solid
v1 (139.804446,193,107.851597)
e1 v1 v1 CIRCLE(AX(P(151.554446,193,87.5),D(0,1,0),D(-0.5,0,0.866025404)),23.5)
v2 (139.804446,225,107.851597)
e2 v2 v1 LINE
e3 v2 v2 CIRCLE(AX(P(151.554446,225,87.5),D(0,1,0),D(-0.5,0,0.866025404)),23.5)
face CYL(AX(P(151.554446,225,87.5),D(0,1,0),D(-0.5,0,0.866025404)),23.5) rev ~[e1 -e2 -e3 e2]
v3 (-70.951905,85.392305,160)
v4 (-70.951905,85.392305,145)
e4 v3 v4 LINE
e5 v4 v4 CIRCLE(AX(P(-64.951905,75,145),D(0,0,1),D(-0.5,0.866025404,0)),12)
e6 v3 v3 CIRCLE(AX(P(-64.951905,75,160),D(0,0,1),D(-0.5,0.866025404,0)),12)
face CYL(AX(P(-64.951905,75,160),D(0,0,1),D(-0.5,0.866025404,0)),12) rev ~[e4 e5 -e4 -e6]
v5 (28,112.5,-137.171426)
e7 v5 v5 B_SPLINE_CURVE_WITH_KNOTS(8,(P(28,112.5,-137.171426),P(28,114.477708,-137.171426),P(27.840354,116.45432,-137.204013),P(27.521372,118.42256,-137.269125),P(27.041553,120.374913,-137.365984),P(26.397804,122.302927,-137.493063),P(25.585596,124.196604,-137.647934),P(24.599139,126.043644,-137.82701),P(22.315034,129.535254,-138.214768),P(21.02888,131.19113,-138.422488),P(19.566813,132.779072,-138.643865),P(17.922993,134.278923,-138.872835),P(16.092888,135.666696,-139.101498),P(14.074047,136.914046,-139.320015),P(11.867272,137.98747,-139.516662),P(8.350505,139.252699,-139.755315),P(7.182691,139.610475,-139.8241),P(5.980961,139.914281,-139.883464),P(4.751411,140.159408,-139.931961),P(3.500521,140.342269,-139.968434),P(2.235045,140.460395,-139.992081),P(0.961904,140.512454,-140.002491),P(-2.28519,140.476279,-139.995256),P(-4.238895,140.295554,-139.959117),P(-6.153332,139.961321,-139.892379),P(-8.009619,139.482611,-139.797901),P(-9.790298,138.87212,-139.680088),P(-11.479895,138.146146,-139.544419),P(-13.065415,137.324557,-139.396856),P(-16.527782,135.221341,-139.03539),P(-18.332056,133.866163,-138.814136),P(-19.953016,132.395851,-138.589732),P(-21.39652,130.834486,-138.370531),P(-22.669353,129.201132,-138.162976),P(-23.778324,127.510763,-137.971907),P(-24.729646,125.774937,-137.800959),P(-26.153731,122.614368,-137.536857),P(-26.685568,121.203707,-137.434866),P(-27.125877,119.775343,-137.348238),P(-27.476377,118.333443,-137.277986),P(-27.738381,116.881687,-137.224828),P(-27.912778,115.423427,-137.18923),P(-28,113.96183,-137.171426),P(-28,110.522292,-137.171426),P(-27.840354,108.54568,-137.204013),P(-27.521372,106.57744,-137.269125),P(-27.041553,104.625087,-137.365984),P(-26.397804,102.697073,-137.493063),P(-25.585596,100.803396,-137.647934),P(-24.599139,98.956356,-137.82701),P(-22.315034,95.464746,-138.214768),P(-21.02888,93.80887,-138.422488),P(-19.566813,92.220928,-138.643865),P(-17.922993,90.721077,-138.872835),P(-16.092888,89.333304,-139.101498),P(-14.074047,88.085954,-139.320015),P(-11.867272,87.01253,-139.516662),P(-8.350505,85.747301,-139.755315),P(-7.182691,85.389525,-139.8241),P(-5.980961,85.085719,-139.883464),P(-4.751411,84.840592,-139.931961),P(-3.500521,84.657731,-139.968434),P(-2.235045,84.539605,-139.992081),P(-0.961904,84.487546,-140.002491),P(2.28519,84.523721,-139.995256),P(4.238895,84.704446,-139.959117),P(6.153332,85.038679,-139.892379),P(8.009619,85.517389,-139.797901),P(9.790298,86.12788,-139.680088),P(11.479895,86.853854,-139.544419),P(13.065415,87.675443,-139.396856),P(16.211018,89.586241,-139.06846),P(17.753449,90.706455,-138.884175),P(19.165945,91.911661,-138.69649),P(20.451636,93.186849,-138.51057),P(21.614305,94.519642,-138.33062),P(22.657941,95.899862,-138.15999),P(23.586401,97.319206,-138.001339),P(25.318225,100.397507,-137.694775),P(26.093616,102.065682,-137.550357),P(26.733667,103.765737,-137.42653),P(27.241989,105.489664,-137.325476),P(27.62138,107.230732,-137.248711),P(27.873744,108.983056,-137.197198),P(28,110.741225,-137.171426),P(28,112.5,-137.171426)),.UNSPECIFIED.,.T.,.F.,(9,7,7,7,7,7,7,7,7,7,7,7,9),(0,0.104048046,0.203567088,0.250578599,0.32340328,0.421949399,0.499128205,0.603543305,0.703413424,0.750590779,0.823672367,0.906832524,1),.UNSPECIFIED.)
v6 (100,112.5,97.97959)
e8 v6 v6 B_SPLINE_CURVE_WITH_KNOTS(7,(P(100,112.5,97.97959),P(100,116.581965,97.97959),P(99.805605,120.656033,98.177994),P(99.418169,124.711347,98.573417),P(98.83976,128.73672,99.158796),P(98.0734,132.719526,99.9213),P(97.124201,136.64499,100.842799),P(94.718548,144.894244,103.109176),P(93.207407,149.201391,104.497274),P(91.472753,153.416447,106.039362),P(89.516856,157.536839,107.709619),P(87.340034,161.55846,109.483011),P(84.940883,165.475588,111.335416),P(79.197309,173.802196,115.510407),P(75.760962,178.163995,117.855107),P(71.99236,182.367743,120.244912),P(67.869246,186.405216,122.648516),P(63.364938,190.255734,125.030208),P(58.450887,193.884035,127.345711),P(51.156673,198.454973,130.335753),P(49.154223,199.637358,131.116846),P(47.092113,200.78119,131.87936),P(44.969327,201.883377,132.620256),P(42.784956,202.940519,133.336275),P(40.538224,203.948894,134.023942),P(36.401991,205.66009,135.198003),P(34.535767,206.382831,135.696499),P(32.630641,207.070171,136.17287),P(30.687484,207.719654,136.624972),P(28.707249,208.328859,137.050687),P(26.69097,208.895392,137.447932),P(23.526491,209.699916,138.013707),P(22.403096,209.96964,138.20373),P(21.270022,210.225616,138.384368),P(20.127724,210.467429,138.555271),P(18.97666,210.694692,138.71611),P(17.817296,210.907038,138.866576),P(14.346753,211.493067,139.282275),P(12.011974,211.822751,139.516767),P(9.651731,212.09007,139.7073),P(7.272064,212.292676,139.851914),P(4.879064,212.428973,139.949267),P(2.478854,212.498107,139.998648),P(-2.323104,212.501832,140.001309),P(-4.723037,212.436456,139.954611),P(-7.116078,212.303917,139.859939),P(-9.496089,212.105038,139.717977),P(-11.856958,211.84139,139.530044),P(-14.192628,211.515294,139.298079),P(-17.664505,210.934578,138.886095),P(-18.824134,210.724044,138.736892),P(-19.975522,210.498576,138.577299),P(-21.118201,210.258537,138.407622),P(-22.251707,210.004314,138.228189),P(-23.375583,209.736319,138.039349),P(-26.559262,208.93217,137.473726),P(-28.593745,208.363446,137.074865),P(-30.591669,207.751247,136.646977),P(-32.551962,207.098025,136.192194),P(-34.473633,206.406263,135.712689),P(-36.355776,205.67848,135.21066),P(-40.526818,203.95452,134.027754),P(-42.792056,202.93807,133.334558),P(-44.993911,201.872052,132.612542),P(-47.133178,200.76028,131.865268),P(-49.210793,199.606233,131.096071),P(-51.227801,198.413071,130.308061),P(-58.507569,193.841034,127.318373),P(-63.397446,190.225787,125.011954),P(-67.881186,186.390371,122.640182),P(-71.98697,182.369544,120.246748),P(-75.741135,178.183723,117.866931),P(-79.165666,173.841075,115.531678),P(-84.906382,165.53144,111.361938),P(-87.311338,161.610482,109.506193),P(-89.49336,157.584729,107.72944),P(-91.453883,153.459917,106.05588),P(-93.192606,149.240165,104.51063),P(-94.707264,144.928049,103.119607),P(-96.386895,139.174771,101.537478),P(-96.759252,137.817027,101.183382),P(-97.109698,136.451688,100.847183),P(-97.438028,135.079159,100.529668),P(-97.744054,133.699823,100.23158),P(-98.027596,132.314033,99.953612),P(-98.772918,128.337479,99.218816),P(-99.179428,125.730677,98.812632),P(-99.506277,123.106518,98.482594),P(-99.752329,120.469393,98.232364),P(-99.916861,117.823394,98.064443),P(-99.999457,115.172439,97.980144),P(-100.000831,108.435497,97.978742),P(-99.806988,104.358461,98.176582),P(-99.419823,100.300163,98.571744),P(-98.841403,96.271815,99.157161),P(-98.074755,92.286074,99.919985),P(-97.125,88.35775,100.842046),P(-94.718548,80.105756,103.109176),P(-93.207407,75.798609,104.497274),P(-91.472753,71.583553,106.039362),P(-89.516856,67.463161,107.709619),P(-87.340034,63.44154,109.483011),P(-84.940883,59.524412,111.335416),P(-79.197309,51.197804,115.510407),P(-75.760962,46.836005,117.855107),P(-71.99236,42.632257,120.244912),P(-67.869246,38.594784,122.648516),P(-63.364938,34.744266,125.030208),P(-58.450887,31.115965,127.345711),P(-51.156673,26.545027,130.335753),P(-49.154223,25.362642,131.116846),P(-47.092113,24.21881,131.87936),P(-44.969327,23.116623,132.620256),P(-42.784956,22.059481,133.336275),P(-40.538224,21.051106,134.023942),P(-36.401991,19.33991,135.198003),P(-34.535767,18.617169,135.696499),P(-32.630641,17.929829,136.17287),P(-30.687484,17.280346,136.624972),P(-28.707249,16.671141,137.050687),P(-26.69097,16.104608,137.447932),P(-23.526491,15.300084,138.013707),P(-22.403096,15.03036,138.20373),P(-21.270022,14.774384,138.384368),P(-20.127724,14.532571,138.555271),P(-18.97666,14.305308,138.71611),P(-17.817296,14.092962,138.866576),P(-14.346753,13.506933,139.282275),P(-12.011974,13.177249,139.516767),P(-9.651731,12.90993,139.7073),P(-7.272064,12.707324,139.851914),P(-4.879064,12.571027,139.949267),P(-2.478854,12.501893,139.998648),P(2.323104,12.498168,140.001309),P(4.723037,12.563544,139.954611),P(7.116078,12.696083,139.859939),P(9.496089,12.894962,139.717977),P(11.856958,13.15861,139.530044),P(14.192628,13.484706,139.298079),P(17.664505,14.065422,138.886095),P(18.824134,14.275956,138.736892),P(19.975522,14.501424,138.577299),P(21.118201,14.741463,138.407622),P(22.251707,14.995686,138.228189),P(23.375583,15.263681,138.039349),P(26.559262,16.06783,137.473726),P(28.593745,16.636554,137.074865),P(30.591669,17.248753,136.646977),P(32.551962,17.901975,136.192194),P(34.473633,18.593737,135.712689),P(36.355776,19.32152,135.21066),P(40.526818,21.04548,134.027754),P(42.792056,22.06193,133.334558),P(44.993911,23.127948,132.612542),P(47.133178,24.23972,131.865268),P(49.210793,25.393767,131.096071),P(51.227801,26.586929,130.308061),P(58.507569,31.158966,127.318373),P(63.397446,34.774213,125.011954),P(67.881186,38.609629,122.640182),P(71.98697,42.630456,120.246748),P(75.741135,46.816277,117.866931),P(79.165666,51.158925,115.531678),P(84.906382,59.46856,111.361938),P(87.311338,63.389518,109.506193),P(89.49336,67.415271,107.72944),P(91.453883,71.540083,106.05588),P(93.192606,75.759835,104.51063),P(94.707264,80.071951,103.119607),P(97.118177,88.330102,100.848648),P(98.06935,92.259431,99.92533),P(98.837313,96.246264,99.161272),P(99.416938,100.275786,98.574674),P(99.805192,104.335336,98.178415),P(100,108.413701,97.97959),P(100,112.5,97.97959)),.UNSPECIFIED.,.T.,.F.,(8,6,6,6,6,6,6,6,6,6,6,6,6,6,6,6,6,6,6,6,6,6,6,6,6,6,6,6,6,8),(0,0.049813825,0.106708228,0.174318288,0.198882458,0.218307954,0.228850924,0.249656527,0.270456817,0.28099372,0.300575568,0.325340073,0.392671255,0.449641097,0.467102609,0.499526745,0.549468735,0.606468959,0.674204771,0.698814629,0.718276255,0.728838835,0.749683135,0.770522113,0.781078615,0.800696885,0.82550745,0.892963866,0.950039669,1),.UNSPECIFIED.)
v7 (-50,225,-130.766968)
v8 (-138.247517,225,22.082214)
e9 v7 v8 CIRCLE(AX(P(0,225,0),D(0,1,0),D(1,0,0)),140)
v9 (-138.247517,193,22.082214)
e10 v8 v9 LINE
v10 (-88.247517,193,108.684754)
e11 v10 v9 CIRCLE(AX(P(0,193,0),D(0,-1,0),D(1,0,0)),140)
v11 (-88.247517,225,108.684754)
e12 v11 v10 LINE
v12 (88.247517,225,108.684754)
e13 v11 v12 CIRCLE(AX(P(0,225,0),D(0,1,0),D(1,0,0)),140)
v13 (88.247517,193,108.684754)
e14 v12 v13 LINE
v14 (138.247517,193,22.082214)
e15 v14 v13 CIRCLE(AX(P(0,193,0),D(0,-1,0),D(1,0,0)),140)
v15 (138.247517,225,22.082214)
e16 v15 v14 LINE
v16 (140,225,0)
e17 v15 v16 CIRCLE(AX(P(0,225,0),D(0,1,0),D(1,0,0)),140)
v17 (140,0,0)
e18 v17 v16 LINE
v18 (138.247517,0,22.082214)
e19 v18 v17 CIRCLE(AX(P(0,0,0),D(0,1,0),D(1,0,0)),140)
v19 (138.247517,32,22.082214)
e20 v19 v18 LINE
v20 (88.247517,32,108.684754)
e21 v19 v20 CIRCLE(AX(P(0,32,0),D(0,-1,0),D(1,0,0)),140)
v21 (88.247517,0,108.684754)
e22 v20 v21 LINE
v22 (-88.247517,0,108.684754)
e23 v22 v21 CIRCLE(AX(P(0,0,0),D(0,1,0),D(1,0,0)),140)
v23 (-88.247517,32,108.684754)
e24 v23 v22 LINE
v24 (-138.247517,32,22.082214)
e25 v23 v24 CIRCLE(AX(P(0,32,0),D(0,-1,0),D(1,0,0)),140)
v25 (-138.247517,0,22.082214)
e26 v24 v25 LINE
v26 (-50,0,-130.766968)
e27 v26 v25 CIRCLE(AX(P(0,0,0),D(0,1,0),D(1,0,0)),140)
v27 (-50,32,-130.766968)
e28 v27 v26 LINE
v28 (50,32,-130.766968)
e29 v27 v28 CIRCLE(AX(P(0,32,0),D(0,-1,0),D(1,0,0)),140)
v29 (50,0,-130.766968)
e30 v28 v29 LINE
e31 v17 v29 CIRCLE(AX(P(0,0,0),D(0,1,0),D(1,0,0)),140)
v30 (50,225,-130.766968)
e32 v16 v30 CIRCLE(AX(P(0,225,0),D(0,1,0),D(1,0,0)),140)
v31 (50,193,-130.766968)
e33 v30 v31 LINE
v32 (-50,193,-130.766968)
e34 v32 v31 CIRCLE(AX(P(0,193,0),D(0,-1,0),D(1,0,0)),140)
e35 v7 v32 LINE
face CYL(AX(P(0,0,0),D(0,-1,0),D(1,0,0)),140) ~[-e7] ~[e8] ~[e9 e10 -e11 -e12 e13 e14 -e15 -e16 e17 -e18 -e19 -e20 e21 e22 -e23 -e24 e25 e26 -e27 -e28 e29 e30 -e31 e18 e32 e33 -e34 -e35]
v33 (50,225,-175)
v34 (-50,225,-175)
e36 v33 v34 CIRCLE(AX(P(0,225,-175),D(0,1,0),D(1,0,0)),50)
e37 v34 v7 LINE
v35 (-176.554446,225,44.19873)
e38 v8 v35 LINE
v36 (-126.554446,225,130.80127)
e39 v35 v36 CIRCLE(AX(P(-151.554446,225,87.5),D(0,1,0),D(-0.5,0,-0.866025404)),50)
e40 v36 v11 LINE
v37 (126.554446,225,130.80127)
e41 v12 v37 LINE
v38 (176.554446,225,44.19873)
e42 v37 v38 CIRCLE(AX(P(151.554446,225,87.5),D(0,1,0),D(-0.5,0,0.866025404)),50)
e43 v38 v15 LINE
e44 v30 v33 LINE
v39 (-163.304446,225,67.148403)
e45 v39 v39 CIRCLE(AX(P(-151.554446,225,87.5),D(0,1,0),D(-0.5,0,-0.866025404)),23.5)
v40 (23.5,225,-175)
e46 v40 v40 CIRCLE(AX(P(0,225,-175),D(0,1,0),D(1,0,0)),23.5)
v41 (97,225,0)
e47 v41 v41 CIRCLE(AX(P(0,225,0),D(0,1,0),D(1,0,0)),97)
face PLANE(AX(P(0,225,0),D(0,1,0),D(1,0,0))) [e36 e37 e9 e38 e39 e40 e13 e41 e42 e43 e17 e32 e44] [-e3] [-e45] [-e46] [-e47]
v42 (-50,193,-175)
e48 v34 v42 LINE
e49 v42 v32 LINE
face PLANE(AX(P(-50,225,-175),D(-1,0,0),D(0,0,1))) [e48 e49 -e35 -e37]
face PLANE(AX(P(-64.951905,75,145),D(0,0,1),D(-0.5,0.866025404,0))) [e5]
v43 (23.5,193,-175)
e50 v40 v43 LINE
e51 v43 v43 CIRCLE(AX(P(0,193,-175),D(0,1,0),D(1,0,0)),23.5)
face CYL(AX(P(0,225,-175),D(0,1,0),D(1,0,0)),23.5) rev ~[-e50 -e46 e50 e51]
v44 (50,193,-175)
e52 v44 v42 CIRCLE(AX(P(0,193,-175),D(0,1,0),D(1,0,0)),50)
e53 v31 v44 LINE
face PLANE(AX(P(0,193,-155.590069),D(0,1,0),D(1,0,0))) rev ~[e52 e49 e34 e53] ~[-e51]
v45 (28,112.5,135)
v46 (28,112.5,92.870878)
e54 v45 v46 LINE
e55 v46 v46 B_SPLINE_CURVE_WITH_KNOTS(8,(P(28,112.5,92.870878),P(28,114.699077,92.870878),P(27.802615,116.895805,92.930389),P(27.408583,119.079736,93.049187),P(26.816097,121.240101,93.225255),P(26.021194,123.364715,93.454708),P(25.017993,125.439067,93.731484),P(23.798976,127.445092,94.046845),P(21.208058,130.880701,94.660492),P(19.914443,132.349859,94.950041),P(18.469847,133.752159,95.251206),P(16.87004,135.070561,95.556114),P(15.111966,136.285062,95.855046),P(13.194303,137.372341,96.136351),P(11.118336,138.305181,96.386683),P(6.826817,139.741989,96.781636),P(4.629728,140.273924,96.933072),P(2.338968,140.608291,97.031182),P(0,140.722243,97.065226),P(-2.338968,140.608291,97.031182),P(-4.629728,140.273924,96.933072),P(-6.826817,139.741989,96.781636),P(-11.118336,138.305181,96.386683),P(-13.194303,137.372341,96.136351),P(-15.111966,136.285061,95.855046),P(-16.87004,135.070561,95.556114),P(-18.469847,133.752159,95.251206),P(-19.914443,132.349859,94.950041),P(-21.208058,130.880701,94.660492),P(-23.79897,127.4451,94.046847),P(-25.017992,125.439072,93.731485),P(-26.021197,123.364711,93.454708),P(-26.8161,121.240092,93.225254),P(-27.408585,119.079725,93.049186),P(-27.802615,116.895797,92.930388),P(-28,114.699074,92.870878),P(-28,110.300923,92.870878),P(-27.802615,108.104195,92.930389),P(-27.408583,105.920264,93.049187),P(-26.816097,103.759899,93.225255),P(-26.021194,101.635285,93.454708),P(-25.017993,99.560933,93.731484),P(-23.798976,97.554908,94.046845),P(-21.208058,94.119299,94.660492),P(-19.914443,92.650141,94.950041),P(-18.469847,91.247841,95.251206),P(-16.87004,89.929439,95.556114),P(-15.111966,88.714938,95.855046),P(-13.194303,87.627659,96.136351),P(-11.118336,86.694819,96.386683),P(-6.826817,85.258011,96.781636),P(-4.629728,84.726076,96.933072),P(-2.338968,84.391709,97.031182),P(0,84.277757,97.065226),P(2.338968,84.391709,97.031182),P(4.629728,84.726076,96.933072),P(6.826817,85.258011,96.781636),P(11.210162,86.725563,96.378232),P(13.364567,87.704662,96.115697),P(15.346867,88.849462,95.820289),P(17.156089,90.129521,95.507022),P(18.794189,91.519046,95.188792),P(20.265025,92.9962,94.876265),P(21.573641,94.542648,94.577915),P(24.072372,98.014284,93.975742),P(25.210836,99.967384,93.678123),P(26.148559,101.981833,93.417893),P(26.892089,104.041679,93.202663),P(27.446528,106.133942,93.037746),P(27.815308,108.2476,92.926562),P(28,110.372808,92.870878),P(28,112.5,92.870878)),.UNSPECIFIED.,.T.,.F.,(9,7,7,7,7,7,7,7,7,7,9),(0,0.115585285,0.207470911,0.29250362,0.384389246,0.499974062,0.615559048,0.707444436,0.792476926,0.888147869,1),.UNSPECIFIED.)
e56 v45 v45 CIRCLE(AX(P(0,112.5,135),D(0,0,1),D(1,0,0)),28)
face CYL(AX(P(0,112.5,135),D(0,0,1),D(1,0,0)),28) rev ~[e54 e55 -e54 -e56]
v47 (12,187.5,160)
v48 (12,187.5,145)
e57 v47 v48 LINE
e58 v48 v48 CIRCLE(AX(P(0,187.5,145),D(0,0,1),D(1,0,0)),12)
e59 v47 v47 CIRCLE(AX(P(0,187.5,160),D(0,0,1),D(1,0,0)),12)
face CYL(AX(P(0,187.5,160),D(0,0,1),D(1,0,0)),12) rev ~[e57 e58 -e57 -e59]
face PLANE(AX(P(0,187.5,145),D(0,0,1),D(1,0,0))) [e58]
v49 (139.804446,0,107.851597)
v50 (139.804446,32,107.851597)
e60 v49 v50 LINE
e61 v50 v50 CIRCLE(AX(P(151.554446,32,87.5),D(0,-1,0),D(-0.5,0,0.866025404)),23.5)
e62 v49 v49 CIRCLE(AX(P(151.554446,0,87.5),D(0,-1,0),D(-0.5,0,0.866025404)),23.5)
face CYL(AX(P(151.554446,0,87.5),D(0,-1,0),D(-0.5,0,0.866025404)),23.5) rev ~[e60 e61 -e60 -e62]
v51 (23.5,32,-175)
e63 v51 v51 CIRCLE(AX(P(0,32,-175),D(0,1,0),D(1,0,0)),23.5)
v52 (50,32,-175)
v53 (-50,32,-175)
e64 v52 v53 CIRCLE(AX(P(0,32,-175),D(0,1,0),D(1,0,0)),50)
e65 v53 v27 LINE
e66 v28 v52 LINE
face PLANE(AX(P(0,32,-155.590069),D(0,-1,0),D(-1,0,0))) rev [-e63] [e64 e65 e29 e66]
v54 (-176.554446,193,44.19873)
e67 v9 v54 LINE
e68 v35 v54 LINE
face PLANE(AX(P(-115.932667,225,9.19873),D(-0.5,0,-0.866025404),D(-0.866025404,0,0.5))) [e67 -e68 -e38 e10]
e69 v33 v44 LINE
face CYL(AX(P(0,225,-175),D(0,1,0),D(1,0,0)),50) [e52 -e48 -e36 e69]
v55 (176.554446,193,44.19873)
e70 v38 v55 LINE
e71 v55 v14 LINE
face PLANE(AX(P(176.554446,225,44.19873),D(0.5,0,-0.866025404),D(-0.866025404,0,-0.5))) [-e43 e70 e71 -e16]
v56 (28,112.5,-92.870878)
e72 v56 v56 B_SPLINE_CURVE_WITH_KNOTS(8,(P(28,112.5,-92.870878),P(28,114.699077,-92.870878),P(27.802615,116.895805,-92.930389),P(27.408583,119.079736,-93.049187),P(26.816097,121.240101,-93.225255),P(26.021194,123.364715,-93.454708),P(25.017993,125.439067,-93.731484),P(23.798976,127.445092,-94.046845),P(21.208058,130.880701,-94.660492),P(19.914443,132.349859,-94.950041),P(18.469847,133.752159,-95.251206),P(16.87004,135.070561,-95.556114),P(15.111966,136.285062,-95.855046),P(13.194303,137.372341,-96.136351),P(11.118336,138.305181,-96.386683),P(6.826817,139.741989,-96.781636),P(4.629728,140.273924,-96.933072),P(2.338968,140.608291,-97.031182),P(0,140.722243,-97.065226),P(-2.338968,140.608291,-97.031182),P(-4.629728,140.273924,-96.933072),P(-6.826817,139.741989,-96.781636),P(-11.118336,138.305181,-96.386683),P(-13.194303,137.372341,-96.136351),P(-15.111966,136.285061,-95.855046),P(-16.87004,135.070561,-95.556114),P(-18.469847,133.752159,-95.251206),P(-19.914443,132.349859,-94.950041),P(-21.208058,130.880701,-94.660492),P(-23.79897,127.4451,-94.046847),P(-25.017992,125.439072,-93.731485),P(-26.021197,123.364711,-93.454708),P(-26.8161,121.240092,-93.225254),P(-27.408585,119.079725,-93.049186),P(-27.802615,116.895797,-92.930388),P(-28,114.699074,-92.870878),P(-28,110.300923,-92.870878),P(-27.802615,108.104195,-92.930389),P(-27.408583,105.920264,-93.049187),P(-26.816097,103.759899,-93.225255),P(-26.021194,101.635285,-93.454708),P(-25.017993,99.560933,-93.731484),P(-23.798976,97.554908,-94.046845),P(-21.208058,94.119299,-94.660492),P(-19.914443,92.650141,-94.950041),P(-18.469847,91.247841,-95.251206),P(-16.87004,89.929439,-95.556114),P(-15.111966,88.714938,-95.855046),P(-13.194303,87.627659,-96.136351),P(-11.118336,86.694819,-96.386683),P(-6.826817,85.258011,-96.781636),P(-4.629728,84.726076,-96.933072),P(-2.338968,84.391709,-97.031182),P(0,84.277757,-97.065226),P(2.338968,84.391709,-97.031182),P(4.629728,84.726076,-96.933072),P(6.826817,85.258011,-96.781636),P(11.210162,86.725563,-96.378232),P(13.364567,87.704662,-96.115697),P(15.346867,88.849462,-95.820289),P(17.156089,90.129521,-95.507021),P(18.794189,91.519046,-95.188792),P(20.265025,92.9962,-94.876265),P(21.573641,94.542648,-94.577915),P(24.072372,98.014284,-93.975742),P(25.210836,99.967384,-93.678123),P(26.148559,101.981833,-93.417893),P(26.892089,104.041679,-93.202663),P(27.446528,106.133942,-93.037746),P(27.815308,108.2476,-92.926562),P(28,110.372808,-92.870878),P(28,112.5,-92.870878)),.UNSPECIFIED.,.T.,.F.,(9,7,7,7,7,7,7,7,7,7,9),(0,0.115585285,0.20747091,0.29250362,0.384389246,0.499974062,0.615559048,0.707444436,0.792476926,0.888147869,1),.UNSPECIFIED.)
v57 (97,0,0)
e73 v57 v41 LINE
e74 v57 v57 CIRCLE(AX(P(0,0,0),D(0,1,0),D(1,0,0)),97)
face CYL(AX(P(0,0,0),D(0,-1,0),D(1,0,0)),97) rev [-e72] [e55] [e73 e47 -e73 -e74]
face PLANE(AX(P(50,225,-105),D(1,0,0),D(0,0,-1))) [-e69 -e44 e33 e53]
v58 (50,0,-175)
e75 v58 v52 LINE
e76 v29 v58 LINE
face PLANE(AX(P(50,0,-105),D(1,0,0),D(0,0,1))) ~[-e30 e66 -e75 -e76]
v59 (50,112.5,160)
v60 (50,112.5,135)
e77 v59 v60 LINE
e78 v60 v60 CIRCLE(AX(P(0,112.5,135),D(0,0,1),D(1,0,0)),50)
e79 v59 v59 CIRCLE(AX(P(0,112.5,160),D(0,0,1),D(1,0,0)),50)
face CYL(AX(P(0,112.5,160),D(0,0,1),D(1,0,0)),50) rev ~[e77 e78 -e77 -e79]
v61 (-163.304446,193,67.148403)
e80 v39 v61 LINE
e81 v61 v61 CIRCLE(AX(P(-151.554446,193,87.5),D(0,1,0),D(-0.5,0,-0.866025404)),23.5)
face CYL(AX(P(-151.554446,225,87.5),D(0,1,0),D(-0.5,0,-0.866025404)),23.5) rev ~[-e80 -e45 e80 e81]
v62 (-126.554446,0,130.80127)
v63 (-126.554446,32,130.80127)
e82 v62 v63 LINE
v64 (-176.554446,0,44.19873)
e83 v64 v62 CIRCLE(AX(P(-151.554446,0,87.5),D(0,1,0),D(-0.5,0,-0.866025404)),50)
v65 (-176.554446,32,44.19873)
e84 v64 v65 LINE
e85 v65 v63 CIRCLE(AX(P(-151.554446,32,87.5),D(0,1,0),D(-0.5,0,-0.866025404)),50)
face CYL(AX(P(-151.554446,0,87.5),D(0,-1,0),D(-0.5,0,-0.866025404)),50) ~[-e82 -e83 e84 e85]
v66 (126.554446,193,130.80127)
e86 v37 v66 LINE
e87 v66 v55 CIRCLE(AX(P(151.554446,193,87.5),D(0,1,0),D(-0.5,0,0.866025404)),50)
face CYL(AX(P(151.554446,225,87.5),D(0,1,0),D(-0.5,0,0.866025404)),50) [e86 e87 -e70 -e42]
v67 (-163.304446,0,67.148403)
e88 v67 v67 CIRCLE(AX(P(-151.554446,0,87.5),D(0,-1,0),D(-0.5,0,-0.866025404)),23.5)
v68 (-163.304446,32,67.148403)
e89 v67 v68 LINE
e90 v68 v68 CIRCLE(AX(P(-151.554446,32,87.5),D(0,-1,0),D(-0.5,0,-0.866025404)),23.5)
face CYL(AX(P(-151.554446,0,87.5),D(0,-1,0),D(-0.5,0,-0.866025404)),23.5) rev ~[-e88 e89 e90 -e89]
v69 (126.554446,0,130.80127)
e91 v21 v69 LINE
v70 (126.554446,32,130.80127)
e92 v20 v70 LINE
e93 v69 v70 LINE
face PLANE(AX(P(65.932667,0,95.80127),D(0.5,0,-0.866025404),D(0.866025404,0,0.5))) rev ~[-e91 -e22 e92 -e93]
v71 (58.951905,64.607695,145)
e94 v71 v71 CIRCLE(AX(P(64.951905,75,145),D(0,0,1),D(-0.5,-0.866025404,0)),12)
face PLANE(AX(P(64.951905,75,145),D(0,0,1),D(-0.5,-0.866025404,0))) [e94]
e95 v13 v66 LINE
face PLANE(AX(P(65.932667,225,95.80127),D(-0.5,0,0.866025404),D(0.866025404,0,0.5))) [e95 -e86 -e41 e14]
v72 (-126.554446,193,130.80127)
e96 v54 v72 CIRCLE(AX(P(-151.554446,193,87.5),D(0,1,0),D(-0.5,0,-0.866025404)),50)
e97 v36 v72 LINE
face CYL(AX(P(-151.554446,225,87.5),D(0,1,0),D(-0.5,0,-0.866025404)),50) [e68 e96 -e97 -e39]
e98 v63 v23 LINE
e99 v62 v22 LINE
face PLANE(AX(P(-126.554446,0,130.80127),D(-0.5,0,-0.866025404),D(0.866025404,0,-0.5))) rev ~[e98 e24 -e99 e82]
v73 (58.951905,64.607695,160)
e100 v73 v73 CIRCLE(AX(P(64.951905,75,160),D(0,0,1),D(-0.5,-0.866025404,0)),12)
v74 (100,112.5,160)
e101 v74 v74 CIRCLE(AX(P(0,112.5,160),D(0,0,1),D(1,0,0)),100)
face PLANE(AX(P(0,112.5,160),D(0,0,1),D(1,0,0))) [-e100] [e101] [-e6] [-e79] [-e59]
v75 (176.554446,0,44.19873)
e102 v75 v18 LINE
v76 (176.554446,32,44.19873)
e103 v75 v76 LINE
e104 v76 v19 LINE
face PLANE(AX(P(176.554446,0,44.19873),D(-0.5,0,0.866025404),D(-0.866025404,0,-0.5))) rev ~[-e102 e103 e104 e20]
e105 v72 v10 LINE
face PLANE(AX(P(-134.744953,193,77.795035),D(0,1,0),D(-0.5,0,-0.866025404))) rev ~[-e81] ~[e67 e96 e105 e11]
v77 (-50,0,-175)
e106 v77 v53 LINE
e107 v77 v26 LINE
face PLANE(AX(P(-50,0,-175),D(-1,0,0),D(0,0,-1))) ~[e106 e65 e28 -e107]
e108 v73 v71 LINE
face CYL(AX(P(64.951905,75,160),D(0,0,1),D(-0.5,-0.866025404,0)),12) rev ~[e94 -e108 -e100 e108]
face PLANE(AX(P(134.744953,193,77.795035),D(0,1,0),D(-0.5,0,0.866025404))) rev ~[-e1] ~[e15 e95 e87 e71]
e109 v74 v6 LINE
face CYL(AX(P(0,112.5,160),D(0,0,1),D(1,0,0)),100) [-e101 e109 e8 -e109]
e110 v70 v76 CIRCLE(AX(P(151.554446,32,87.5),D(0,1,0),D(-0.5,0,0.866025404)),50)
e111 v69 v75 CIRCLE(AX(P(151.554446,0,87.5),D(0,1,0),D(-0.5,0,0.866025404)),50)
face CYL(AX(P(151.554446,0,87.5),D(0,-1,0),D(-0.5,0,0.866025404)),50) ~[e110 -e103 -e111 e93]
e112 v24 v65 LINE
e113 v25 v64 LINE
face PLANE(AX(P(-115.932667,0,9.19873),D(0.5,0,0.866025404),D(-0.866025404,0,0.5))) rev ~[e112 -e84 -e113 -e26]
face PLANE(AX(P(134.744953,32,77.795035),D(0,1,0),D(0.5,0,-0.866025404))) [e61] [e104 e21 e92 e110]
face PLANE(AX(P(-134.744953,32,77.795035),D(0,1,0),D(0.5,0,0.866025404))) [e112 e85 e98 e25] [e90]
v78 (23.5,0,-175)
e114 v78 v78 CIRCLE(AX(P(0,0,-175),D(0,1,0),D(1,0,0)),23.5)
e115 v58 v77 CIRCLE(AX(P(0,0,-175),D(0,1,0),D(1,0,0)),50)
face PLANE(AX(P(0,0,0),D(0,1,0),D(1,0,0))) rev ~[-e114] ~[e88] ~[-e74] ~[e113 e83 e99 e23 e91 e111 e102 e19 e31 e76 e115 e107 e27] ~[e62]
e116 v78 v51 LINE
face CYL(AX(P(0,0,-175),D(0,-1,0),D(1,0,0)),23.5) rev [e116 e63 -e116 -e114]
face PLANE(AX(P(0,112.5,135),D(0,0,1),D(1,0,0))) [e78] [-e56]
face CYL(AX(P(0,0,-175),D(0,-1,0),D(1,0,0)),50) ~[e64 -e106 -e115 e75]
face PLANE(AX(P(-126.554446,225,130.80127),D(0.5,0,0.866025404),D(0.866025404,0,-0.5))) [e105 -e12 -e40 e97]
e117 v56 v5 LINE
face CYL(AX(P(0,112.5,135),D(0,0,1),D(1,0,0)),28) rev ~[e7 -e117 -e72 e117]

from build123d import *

# Parameters (mm, degrees)
SKETCH2_R               = 140
SKETCH2_R_2             = 97
BOSS_EXTRUDE1_DEPTH     = 225
SKETCH3_R               = 23.5
BOSS_EXTRUDE2_DEPTH     = 32
CIRPATTERN1_COUNT       = 3
MIRROR1_COPY_1_SKETCH_R = 23.5
MIRROR1_COPY_1_DEPTH    = 32
MIRROR1_COPY_2_SKETCH_R = 23.5
MIRROR1_COPY_2_DEPTH    = 32
BOSS_EXTRUDE3_REACH     = 387
SKETCH4_R               = 100
SKETCH6_R               = 50
CUT_EXTRUDE1_DEPTH      = 25
SKETCH7_R               = 28
CUT_EXTRUDE2_DEPTH      = 361
SKETCH8_R               = 12
CUT_EXTRUDE3_DEPTH      = 15
CIRPATTERN2_COUNT       = 3


with BuildPart() as part:
    # Sketch2 → Boss-Extrude1 (new body)
    with BuildSketch(Plane(origin=(0, 0, 0), x_dir=(1, 0, 0), z_dir=(0, 1, 0))):
        Circle(SKETCH2_R)
        Circle(SKETCH2_R_2, mode=Mode.SUBTRACT)
    extrude(amount=BOSS_EXTRUDE1_DEPTH)

    # Sketch3 → Boss-Extrude2 (add)
    with BuildSketch(Plane(origin=(0, 225, 0), x_dir=(1, 0, 0), z_dir=(0, 1, 0))):
        with BuildLine():
            Line((-50, 105), (50, 105))
            Line((50, 105), (50, 175))
            ThreePointArc((50, 175), (0, 225), (-50, 175))
            Line((-50, 175), (-50, 105))
        make_face()
        with Locations((0, 175)):
            Circle(SKETCH3_R, mode=Mode.SUBTRACT)
    boss_extrude2 = extrude(amount=-BOSS_EXTRUDE2_DEPTH)

    # CirPattern1: Boss-Extrude2 ×3 about axis
    cirpattern1_axis = Axis((0, 0, 0), (0, 1, 0))
    for i in range(1, CIRPATTERN1_COUNT):
        add(boss_extrude2.rotate(cirpattern1_axis, i * 360 / CIRPATTERN1_COUNT))

    # Mirror1: Boss-Extrude2 across plane
    add(boss_extrude2.mirror(Plane.ZX.offset(112.5)))

    # Mirror1 copy 1 sketch → Mirror1 copy 1 (add)
    with BuildSketch(Plane(origin=(0, 0, 0), x_dir=(-0.5, 0, -0.866025404), z_dir=(0, -1, 0))):
        with BuildLine():
            Line((-50, -105), (50, -105))
            Line((50, -105), (50, -175))
            ThreePointArc((50, -175), (0, -225), (-50, -175))
            Line((-50, -175), (-50, -105))
        make_face()
        with Locations((0, -175)):
            Circle(MIRROR1_COPY_1_SKETCH_R, mode=Mode.SUBTRACT)
    extrude(amount=-MIRROR1_COPY_1_DEPTH)

    # Mirror1 copy 2 sketch → Mirror1 copy 2 (add)
    with BuildSketch(Plane(origin=(0, 0, 0), x_dir=(-0.5, 0, 0.866025404), z_dir=(0, -1, 0))):
        with BuildLine():
            Line((-50, -105), (50, -105))
            Line((50, -105), (50, -175))
            ThreePointArc((50, -175), (0, -225), (-50, -175))
            Line((-50, -175), (-50, -105))
        make_face()
        with Locations((0, -175)):
            Circle(MIRROR1_COPY_2_SKETCH_R, mode=Mode.SUBTRACT)
    extrude(amount=-MIRROR1_COPY_2_DEPTH)

    # Sketch4 → Boss-Extrude3 (add, up to next)
    with BuildSketch(Plane.XY.offset(160), mode=Mode.PRIVATE) as boss_extrude3_sk1:
        with Locations((0, 112.5)):
            Circle(SKETCH4_R)
    boss_extrude3_tool1 = extrude(boss_extrude3_sk1.sketch, amount=-BOSS_EXTRUDE3_REACH, mode=Mode.PRIVATE) - part.part
    add(boss_extrude3_tool1.solids().sort_by_distance((0, 112.5, 160))[0])

    # Sketch6 → Cut-Extrude1 (cut)
    with BuildSketch(Plane.XY.offset(160)):
        with Locations((0, 112.5)):
            Circle(SKETCH6_R)
    extrude(amount=-CUT_EXTRUDE1_DEPTH, mode=Mode.SUBTRACT)

    # Sketch7 → Cut-Extrude2 (cut, through all)
    with BuildSketch(Plane.XY.offset(135)):
        with Locations((0, 112.5)):
            Circle(SKETCH7_R)
    extrude(amount=-CUT_EXTRUDE2_DEPTH, mode=Mode.SUBTRACT)

    # Sketch8 → Cut-Extrude3 (cut)
    with BuildSketch(Plane.XY.offset(160)):
        with Locations((0, 187.5)):
            Circle(SKETCH8_R)
    cut_extrude3 = extrude(amount=-CUT_EXTRUDE3_DEPTH, mode=Mode.SUBTRACT)

    # CirPattern2: Cut-Extrude3 ×3 about axis
    cirpattern2_axis = Axis((0, 112.5, 0), (0, 0, 1))
    for i in range(1, CIRPATTERN2_COUNT):
        add(cut_extrude3.rotate(cirpattern2_axis, i * 360 / CIRPATTERN2_COUNT), mode=Mode.SUBTRACT)


solid = part.part
